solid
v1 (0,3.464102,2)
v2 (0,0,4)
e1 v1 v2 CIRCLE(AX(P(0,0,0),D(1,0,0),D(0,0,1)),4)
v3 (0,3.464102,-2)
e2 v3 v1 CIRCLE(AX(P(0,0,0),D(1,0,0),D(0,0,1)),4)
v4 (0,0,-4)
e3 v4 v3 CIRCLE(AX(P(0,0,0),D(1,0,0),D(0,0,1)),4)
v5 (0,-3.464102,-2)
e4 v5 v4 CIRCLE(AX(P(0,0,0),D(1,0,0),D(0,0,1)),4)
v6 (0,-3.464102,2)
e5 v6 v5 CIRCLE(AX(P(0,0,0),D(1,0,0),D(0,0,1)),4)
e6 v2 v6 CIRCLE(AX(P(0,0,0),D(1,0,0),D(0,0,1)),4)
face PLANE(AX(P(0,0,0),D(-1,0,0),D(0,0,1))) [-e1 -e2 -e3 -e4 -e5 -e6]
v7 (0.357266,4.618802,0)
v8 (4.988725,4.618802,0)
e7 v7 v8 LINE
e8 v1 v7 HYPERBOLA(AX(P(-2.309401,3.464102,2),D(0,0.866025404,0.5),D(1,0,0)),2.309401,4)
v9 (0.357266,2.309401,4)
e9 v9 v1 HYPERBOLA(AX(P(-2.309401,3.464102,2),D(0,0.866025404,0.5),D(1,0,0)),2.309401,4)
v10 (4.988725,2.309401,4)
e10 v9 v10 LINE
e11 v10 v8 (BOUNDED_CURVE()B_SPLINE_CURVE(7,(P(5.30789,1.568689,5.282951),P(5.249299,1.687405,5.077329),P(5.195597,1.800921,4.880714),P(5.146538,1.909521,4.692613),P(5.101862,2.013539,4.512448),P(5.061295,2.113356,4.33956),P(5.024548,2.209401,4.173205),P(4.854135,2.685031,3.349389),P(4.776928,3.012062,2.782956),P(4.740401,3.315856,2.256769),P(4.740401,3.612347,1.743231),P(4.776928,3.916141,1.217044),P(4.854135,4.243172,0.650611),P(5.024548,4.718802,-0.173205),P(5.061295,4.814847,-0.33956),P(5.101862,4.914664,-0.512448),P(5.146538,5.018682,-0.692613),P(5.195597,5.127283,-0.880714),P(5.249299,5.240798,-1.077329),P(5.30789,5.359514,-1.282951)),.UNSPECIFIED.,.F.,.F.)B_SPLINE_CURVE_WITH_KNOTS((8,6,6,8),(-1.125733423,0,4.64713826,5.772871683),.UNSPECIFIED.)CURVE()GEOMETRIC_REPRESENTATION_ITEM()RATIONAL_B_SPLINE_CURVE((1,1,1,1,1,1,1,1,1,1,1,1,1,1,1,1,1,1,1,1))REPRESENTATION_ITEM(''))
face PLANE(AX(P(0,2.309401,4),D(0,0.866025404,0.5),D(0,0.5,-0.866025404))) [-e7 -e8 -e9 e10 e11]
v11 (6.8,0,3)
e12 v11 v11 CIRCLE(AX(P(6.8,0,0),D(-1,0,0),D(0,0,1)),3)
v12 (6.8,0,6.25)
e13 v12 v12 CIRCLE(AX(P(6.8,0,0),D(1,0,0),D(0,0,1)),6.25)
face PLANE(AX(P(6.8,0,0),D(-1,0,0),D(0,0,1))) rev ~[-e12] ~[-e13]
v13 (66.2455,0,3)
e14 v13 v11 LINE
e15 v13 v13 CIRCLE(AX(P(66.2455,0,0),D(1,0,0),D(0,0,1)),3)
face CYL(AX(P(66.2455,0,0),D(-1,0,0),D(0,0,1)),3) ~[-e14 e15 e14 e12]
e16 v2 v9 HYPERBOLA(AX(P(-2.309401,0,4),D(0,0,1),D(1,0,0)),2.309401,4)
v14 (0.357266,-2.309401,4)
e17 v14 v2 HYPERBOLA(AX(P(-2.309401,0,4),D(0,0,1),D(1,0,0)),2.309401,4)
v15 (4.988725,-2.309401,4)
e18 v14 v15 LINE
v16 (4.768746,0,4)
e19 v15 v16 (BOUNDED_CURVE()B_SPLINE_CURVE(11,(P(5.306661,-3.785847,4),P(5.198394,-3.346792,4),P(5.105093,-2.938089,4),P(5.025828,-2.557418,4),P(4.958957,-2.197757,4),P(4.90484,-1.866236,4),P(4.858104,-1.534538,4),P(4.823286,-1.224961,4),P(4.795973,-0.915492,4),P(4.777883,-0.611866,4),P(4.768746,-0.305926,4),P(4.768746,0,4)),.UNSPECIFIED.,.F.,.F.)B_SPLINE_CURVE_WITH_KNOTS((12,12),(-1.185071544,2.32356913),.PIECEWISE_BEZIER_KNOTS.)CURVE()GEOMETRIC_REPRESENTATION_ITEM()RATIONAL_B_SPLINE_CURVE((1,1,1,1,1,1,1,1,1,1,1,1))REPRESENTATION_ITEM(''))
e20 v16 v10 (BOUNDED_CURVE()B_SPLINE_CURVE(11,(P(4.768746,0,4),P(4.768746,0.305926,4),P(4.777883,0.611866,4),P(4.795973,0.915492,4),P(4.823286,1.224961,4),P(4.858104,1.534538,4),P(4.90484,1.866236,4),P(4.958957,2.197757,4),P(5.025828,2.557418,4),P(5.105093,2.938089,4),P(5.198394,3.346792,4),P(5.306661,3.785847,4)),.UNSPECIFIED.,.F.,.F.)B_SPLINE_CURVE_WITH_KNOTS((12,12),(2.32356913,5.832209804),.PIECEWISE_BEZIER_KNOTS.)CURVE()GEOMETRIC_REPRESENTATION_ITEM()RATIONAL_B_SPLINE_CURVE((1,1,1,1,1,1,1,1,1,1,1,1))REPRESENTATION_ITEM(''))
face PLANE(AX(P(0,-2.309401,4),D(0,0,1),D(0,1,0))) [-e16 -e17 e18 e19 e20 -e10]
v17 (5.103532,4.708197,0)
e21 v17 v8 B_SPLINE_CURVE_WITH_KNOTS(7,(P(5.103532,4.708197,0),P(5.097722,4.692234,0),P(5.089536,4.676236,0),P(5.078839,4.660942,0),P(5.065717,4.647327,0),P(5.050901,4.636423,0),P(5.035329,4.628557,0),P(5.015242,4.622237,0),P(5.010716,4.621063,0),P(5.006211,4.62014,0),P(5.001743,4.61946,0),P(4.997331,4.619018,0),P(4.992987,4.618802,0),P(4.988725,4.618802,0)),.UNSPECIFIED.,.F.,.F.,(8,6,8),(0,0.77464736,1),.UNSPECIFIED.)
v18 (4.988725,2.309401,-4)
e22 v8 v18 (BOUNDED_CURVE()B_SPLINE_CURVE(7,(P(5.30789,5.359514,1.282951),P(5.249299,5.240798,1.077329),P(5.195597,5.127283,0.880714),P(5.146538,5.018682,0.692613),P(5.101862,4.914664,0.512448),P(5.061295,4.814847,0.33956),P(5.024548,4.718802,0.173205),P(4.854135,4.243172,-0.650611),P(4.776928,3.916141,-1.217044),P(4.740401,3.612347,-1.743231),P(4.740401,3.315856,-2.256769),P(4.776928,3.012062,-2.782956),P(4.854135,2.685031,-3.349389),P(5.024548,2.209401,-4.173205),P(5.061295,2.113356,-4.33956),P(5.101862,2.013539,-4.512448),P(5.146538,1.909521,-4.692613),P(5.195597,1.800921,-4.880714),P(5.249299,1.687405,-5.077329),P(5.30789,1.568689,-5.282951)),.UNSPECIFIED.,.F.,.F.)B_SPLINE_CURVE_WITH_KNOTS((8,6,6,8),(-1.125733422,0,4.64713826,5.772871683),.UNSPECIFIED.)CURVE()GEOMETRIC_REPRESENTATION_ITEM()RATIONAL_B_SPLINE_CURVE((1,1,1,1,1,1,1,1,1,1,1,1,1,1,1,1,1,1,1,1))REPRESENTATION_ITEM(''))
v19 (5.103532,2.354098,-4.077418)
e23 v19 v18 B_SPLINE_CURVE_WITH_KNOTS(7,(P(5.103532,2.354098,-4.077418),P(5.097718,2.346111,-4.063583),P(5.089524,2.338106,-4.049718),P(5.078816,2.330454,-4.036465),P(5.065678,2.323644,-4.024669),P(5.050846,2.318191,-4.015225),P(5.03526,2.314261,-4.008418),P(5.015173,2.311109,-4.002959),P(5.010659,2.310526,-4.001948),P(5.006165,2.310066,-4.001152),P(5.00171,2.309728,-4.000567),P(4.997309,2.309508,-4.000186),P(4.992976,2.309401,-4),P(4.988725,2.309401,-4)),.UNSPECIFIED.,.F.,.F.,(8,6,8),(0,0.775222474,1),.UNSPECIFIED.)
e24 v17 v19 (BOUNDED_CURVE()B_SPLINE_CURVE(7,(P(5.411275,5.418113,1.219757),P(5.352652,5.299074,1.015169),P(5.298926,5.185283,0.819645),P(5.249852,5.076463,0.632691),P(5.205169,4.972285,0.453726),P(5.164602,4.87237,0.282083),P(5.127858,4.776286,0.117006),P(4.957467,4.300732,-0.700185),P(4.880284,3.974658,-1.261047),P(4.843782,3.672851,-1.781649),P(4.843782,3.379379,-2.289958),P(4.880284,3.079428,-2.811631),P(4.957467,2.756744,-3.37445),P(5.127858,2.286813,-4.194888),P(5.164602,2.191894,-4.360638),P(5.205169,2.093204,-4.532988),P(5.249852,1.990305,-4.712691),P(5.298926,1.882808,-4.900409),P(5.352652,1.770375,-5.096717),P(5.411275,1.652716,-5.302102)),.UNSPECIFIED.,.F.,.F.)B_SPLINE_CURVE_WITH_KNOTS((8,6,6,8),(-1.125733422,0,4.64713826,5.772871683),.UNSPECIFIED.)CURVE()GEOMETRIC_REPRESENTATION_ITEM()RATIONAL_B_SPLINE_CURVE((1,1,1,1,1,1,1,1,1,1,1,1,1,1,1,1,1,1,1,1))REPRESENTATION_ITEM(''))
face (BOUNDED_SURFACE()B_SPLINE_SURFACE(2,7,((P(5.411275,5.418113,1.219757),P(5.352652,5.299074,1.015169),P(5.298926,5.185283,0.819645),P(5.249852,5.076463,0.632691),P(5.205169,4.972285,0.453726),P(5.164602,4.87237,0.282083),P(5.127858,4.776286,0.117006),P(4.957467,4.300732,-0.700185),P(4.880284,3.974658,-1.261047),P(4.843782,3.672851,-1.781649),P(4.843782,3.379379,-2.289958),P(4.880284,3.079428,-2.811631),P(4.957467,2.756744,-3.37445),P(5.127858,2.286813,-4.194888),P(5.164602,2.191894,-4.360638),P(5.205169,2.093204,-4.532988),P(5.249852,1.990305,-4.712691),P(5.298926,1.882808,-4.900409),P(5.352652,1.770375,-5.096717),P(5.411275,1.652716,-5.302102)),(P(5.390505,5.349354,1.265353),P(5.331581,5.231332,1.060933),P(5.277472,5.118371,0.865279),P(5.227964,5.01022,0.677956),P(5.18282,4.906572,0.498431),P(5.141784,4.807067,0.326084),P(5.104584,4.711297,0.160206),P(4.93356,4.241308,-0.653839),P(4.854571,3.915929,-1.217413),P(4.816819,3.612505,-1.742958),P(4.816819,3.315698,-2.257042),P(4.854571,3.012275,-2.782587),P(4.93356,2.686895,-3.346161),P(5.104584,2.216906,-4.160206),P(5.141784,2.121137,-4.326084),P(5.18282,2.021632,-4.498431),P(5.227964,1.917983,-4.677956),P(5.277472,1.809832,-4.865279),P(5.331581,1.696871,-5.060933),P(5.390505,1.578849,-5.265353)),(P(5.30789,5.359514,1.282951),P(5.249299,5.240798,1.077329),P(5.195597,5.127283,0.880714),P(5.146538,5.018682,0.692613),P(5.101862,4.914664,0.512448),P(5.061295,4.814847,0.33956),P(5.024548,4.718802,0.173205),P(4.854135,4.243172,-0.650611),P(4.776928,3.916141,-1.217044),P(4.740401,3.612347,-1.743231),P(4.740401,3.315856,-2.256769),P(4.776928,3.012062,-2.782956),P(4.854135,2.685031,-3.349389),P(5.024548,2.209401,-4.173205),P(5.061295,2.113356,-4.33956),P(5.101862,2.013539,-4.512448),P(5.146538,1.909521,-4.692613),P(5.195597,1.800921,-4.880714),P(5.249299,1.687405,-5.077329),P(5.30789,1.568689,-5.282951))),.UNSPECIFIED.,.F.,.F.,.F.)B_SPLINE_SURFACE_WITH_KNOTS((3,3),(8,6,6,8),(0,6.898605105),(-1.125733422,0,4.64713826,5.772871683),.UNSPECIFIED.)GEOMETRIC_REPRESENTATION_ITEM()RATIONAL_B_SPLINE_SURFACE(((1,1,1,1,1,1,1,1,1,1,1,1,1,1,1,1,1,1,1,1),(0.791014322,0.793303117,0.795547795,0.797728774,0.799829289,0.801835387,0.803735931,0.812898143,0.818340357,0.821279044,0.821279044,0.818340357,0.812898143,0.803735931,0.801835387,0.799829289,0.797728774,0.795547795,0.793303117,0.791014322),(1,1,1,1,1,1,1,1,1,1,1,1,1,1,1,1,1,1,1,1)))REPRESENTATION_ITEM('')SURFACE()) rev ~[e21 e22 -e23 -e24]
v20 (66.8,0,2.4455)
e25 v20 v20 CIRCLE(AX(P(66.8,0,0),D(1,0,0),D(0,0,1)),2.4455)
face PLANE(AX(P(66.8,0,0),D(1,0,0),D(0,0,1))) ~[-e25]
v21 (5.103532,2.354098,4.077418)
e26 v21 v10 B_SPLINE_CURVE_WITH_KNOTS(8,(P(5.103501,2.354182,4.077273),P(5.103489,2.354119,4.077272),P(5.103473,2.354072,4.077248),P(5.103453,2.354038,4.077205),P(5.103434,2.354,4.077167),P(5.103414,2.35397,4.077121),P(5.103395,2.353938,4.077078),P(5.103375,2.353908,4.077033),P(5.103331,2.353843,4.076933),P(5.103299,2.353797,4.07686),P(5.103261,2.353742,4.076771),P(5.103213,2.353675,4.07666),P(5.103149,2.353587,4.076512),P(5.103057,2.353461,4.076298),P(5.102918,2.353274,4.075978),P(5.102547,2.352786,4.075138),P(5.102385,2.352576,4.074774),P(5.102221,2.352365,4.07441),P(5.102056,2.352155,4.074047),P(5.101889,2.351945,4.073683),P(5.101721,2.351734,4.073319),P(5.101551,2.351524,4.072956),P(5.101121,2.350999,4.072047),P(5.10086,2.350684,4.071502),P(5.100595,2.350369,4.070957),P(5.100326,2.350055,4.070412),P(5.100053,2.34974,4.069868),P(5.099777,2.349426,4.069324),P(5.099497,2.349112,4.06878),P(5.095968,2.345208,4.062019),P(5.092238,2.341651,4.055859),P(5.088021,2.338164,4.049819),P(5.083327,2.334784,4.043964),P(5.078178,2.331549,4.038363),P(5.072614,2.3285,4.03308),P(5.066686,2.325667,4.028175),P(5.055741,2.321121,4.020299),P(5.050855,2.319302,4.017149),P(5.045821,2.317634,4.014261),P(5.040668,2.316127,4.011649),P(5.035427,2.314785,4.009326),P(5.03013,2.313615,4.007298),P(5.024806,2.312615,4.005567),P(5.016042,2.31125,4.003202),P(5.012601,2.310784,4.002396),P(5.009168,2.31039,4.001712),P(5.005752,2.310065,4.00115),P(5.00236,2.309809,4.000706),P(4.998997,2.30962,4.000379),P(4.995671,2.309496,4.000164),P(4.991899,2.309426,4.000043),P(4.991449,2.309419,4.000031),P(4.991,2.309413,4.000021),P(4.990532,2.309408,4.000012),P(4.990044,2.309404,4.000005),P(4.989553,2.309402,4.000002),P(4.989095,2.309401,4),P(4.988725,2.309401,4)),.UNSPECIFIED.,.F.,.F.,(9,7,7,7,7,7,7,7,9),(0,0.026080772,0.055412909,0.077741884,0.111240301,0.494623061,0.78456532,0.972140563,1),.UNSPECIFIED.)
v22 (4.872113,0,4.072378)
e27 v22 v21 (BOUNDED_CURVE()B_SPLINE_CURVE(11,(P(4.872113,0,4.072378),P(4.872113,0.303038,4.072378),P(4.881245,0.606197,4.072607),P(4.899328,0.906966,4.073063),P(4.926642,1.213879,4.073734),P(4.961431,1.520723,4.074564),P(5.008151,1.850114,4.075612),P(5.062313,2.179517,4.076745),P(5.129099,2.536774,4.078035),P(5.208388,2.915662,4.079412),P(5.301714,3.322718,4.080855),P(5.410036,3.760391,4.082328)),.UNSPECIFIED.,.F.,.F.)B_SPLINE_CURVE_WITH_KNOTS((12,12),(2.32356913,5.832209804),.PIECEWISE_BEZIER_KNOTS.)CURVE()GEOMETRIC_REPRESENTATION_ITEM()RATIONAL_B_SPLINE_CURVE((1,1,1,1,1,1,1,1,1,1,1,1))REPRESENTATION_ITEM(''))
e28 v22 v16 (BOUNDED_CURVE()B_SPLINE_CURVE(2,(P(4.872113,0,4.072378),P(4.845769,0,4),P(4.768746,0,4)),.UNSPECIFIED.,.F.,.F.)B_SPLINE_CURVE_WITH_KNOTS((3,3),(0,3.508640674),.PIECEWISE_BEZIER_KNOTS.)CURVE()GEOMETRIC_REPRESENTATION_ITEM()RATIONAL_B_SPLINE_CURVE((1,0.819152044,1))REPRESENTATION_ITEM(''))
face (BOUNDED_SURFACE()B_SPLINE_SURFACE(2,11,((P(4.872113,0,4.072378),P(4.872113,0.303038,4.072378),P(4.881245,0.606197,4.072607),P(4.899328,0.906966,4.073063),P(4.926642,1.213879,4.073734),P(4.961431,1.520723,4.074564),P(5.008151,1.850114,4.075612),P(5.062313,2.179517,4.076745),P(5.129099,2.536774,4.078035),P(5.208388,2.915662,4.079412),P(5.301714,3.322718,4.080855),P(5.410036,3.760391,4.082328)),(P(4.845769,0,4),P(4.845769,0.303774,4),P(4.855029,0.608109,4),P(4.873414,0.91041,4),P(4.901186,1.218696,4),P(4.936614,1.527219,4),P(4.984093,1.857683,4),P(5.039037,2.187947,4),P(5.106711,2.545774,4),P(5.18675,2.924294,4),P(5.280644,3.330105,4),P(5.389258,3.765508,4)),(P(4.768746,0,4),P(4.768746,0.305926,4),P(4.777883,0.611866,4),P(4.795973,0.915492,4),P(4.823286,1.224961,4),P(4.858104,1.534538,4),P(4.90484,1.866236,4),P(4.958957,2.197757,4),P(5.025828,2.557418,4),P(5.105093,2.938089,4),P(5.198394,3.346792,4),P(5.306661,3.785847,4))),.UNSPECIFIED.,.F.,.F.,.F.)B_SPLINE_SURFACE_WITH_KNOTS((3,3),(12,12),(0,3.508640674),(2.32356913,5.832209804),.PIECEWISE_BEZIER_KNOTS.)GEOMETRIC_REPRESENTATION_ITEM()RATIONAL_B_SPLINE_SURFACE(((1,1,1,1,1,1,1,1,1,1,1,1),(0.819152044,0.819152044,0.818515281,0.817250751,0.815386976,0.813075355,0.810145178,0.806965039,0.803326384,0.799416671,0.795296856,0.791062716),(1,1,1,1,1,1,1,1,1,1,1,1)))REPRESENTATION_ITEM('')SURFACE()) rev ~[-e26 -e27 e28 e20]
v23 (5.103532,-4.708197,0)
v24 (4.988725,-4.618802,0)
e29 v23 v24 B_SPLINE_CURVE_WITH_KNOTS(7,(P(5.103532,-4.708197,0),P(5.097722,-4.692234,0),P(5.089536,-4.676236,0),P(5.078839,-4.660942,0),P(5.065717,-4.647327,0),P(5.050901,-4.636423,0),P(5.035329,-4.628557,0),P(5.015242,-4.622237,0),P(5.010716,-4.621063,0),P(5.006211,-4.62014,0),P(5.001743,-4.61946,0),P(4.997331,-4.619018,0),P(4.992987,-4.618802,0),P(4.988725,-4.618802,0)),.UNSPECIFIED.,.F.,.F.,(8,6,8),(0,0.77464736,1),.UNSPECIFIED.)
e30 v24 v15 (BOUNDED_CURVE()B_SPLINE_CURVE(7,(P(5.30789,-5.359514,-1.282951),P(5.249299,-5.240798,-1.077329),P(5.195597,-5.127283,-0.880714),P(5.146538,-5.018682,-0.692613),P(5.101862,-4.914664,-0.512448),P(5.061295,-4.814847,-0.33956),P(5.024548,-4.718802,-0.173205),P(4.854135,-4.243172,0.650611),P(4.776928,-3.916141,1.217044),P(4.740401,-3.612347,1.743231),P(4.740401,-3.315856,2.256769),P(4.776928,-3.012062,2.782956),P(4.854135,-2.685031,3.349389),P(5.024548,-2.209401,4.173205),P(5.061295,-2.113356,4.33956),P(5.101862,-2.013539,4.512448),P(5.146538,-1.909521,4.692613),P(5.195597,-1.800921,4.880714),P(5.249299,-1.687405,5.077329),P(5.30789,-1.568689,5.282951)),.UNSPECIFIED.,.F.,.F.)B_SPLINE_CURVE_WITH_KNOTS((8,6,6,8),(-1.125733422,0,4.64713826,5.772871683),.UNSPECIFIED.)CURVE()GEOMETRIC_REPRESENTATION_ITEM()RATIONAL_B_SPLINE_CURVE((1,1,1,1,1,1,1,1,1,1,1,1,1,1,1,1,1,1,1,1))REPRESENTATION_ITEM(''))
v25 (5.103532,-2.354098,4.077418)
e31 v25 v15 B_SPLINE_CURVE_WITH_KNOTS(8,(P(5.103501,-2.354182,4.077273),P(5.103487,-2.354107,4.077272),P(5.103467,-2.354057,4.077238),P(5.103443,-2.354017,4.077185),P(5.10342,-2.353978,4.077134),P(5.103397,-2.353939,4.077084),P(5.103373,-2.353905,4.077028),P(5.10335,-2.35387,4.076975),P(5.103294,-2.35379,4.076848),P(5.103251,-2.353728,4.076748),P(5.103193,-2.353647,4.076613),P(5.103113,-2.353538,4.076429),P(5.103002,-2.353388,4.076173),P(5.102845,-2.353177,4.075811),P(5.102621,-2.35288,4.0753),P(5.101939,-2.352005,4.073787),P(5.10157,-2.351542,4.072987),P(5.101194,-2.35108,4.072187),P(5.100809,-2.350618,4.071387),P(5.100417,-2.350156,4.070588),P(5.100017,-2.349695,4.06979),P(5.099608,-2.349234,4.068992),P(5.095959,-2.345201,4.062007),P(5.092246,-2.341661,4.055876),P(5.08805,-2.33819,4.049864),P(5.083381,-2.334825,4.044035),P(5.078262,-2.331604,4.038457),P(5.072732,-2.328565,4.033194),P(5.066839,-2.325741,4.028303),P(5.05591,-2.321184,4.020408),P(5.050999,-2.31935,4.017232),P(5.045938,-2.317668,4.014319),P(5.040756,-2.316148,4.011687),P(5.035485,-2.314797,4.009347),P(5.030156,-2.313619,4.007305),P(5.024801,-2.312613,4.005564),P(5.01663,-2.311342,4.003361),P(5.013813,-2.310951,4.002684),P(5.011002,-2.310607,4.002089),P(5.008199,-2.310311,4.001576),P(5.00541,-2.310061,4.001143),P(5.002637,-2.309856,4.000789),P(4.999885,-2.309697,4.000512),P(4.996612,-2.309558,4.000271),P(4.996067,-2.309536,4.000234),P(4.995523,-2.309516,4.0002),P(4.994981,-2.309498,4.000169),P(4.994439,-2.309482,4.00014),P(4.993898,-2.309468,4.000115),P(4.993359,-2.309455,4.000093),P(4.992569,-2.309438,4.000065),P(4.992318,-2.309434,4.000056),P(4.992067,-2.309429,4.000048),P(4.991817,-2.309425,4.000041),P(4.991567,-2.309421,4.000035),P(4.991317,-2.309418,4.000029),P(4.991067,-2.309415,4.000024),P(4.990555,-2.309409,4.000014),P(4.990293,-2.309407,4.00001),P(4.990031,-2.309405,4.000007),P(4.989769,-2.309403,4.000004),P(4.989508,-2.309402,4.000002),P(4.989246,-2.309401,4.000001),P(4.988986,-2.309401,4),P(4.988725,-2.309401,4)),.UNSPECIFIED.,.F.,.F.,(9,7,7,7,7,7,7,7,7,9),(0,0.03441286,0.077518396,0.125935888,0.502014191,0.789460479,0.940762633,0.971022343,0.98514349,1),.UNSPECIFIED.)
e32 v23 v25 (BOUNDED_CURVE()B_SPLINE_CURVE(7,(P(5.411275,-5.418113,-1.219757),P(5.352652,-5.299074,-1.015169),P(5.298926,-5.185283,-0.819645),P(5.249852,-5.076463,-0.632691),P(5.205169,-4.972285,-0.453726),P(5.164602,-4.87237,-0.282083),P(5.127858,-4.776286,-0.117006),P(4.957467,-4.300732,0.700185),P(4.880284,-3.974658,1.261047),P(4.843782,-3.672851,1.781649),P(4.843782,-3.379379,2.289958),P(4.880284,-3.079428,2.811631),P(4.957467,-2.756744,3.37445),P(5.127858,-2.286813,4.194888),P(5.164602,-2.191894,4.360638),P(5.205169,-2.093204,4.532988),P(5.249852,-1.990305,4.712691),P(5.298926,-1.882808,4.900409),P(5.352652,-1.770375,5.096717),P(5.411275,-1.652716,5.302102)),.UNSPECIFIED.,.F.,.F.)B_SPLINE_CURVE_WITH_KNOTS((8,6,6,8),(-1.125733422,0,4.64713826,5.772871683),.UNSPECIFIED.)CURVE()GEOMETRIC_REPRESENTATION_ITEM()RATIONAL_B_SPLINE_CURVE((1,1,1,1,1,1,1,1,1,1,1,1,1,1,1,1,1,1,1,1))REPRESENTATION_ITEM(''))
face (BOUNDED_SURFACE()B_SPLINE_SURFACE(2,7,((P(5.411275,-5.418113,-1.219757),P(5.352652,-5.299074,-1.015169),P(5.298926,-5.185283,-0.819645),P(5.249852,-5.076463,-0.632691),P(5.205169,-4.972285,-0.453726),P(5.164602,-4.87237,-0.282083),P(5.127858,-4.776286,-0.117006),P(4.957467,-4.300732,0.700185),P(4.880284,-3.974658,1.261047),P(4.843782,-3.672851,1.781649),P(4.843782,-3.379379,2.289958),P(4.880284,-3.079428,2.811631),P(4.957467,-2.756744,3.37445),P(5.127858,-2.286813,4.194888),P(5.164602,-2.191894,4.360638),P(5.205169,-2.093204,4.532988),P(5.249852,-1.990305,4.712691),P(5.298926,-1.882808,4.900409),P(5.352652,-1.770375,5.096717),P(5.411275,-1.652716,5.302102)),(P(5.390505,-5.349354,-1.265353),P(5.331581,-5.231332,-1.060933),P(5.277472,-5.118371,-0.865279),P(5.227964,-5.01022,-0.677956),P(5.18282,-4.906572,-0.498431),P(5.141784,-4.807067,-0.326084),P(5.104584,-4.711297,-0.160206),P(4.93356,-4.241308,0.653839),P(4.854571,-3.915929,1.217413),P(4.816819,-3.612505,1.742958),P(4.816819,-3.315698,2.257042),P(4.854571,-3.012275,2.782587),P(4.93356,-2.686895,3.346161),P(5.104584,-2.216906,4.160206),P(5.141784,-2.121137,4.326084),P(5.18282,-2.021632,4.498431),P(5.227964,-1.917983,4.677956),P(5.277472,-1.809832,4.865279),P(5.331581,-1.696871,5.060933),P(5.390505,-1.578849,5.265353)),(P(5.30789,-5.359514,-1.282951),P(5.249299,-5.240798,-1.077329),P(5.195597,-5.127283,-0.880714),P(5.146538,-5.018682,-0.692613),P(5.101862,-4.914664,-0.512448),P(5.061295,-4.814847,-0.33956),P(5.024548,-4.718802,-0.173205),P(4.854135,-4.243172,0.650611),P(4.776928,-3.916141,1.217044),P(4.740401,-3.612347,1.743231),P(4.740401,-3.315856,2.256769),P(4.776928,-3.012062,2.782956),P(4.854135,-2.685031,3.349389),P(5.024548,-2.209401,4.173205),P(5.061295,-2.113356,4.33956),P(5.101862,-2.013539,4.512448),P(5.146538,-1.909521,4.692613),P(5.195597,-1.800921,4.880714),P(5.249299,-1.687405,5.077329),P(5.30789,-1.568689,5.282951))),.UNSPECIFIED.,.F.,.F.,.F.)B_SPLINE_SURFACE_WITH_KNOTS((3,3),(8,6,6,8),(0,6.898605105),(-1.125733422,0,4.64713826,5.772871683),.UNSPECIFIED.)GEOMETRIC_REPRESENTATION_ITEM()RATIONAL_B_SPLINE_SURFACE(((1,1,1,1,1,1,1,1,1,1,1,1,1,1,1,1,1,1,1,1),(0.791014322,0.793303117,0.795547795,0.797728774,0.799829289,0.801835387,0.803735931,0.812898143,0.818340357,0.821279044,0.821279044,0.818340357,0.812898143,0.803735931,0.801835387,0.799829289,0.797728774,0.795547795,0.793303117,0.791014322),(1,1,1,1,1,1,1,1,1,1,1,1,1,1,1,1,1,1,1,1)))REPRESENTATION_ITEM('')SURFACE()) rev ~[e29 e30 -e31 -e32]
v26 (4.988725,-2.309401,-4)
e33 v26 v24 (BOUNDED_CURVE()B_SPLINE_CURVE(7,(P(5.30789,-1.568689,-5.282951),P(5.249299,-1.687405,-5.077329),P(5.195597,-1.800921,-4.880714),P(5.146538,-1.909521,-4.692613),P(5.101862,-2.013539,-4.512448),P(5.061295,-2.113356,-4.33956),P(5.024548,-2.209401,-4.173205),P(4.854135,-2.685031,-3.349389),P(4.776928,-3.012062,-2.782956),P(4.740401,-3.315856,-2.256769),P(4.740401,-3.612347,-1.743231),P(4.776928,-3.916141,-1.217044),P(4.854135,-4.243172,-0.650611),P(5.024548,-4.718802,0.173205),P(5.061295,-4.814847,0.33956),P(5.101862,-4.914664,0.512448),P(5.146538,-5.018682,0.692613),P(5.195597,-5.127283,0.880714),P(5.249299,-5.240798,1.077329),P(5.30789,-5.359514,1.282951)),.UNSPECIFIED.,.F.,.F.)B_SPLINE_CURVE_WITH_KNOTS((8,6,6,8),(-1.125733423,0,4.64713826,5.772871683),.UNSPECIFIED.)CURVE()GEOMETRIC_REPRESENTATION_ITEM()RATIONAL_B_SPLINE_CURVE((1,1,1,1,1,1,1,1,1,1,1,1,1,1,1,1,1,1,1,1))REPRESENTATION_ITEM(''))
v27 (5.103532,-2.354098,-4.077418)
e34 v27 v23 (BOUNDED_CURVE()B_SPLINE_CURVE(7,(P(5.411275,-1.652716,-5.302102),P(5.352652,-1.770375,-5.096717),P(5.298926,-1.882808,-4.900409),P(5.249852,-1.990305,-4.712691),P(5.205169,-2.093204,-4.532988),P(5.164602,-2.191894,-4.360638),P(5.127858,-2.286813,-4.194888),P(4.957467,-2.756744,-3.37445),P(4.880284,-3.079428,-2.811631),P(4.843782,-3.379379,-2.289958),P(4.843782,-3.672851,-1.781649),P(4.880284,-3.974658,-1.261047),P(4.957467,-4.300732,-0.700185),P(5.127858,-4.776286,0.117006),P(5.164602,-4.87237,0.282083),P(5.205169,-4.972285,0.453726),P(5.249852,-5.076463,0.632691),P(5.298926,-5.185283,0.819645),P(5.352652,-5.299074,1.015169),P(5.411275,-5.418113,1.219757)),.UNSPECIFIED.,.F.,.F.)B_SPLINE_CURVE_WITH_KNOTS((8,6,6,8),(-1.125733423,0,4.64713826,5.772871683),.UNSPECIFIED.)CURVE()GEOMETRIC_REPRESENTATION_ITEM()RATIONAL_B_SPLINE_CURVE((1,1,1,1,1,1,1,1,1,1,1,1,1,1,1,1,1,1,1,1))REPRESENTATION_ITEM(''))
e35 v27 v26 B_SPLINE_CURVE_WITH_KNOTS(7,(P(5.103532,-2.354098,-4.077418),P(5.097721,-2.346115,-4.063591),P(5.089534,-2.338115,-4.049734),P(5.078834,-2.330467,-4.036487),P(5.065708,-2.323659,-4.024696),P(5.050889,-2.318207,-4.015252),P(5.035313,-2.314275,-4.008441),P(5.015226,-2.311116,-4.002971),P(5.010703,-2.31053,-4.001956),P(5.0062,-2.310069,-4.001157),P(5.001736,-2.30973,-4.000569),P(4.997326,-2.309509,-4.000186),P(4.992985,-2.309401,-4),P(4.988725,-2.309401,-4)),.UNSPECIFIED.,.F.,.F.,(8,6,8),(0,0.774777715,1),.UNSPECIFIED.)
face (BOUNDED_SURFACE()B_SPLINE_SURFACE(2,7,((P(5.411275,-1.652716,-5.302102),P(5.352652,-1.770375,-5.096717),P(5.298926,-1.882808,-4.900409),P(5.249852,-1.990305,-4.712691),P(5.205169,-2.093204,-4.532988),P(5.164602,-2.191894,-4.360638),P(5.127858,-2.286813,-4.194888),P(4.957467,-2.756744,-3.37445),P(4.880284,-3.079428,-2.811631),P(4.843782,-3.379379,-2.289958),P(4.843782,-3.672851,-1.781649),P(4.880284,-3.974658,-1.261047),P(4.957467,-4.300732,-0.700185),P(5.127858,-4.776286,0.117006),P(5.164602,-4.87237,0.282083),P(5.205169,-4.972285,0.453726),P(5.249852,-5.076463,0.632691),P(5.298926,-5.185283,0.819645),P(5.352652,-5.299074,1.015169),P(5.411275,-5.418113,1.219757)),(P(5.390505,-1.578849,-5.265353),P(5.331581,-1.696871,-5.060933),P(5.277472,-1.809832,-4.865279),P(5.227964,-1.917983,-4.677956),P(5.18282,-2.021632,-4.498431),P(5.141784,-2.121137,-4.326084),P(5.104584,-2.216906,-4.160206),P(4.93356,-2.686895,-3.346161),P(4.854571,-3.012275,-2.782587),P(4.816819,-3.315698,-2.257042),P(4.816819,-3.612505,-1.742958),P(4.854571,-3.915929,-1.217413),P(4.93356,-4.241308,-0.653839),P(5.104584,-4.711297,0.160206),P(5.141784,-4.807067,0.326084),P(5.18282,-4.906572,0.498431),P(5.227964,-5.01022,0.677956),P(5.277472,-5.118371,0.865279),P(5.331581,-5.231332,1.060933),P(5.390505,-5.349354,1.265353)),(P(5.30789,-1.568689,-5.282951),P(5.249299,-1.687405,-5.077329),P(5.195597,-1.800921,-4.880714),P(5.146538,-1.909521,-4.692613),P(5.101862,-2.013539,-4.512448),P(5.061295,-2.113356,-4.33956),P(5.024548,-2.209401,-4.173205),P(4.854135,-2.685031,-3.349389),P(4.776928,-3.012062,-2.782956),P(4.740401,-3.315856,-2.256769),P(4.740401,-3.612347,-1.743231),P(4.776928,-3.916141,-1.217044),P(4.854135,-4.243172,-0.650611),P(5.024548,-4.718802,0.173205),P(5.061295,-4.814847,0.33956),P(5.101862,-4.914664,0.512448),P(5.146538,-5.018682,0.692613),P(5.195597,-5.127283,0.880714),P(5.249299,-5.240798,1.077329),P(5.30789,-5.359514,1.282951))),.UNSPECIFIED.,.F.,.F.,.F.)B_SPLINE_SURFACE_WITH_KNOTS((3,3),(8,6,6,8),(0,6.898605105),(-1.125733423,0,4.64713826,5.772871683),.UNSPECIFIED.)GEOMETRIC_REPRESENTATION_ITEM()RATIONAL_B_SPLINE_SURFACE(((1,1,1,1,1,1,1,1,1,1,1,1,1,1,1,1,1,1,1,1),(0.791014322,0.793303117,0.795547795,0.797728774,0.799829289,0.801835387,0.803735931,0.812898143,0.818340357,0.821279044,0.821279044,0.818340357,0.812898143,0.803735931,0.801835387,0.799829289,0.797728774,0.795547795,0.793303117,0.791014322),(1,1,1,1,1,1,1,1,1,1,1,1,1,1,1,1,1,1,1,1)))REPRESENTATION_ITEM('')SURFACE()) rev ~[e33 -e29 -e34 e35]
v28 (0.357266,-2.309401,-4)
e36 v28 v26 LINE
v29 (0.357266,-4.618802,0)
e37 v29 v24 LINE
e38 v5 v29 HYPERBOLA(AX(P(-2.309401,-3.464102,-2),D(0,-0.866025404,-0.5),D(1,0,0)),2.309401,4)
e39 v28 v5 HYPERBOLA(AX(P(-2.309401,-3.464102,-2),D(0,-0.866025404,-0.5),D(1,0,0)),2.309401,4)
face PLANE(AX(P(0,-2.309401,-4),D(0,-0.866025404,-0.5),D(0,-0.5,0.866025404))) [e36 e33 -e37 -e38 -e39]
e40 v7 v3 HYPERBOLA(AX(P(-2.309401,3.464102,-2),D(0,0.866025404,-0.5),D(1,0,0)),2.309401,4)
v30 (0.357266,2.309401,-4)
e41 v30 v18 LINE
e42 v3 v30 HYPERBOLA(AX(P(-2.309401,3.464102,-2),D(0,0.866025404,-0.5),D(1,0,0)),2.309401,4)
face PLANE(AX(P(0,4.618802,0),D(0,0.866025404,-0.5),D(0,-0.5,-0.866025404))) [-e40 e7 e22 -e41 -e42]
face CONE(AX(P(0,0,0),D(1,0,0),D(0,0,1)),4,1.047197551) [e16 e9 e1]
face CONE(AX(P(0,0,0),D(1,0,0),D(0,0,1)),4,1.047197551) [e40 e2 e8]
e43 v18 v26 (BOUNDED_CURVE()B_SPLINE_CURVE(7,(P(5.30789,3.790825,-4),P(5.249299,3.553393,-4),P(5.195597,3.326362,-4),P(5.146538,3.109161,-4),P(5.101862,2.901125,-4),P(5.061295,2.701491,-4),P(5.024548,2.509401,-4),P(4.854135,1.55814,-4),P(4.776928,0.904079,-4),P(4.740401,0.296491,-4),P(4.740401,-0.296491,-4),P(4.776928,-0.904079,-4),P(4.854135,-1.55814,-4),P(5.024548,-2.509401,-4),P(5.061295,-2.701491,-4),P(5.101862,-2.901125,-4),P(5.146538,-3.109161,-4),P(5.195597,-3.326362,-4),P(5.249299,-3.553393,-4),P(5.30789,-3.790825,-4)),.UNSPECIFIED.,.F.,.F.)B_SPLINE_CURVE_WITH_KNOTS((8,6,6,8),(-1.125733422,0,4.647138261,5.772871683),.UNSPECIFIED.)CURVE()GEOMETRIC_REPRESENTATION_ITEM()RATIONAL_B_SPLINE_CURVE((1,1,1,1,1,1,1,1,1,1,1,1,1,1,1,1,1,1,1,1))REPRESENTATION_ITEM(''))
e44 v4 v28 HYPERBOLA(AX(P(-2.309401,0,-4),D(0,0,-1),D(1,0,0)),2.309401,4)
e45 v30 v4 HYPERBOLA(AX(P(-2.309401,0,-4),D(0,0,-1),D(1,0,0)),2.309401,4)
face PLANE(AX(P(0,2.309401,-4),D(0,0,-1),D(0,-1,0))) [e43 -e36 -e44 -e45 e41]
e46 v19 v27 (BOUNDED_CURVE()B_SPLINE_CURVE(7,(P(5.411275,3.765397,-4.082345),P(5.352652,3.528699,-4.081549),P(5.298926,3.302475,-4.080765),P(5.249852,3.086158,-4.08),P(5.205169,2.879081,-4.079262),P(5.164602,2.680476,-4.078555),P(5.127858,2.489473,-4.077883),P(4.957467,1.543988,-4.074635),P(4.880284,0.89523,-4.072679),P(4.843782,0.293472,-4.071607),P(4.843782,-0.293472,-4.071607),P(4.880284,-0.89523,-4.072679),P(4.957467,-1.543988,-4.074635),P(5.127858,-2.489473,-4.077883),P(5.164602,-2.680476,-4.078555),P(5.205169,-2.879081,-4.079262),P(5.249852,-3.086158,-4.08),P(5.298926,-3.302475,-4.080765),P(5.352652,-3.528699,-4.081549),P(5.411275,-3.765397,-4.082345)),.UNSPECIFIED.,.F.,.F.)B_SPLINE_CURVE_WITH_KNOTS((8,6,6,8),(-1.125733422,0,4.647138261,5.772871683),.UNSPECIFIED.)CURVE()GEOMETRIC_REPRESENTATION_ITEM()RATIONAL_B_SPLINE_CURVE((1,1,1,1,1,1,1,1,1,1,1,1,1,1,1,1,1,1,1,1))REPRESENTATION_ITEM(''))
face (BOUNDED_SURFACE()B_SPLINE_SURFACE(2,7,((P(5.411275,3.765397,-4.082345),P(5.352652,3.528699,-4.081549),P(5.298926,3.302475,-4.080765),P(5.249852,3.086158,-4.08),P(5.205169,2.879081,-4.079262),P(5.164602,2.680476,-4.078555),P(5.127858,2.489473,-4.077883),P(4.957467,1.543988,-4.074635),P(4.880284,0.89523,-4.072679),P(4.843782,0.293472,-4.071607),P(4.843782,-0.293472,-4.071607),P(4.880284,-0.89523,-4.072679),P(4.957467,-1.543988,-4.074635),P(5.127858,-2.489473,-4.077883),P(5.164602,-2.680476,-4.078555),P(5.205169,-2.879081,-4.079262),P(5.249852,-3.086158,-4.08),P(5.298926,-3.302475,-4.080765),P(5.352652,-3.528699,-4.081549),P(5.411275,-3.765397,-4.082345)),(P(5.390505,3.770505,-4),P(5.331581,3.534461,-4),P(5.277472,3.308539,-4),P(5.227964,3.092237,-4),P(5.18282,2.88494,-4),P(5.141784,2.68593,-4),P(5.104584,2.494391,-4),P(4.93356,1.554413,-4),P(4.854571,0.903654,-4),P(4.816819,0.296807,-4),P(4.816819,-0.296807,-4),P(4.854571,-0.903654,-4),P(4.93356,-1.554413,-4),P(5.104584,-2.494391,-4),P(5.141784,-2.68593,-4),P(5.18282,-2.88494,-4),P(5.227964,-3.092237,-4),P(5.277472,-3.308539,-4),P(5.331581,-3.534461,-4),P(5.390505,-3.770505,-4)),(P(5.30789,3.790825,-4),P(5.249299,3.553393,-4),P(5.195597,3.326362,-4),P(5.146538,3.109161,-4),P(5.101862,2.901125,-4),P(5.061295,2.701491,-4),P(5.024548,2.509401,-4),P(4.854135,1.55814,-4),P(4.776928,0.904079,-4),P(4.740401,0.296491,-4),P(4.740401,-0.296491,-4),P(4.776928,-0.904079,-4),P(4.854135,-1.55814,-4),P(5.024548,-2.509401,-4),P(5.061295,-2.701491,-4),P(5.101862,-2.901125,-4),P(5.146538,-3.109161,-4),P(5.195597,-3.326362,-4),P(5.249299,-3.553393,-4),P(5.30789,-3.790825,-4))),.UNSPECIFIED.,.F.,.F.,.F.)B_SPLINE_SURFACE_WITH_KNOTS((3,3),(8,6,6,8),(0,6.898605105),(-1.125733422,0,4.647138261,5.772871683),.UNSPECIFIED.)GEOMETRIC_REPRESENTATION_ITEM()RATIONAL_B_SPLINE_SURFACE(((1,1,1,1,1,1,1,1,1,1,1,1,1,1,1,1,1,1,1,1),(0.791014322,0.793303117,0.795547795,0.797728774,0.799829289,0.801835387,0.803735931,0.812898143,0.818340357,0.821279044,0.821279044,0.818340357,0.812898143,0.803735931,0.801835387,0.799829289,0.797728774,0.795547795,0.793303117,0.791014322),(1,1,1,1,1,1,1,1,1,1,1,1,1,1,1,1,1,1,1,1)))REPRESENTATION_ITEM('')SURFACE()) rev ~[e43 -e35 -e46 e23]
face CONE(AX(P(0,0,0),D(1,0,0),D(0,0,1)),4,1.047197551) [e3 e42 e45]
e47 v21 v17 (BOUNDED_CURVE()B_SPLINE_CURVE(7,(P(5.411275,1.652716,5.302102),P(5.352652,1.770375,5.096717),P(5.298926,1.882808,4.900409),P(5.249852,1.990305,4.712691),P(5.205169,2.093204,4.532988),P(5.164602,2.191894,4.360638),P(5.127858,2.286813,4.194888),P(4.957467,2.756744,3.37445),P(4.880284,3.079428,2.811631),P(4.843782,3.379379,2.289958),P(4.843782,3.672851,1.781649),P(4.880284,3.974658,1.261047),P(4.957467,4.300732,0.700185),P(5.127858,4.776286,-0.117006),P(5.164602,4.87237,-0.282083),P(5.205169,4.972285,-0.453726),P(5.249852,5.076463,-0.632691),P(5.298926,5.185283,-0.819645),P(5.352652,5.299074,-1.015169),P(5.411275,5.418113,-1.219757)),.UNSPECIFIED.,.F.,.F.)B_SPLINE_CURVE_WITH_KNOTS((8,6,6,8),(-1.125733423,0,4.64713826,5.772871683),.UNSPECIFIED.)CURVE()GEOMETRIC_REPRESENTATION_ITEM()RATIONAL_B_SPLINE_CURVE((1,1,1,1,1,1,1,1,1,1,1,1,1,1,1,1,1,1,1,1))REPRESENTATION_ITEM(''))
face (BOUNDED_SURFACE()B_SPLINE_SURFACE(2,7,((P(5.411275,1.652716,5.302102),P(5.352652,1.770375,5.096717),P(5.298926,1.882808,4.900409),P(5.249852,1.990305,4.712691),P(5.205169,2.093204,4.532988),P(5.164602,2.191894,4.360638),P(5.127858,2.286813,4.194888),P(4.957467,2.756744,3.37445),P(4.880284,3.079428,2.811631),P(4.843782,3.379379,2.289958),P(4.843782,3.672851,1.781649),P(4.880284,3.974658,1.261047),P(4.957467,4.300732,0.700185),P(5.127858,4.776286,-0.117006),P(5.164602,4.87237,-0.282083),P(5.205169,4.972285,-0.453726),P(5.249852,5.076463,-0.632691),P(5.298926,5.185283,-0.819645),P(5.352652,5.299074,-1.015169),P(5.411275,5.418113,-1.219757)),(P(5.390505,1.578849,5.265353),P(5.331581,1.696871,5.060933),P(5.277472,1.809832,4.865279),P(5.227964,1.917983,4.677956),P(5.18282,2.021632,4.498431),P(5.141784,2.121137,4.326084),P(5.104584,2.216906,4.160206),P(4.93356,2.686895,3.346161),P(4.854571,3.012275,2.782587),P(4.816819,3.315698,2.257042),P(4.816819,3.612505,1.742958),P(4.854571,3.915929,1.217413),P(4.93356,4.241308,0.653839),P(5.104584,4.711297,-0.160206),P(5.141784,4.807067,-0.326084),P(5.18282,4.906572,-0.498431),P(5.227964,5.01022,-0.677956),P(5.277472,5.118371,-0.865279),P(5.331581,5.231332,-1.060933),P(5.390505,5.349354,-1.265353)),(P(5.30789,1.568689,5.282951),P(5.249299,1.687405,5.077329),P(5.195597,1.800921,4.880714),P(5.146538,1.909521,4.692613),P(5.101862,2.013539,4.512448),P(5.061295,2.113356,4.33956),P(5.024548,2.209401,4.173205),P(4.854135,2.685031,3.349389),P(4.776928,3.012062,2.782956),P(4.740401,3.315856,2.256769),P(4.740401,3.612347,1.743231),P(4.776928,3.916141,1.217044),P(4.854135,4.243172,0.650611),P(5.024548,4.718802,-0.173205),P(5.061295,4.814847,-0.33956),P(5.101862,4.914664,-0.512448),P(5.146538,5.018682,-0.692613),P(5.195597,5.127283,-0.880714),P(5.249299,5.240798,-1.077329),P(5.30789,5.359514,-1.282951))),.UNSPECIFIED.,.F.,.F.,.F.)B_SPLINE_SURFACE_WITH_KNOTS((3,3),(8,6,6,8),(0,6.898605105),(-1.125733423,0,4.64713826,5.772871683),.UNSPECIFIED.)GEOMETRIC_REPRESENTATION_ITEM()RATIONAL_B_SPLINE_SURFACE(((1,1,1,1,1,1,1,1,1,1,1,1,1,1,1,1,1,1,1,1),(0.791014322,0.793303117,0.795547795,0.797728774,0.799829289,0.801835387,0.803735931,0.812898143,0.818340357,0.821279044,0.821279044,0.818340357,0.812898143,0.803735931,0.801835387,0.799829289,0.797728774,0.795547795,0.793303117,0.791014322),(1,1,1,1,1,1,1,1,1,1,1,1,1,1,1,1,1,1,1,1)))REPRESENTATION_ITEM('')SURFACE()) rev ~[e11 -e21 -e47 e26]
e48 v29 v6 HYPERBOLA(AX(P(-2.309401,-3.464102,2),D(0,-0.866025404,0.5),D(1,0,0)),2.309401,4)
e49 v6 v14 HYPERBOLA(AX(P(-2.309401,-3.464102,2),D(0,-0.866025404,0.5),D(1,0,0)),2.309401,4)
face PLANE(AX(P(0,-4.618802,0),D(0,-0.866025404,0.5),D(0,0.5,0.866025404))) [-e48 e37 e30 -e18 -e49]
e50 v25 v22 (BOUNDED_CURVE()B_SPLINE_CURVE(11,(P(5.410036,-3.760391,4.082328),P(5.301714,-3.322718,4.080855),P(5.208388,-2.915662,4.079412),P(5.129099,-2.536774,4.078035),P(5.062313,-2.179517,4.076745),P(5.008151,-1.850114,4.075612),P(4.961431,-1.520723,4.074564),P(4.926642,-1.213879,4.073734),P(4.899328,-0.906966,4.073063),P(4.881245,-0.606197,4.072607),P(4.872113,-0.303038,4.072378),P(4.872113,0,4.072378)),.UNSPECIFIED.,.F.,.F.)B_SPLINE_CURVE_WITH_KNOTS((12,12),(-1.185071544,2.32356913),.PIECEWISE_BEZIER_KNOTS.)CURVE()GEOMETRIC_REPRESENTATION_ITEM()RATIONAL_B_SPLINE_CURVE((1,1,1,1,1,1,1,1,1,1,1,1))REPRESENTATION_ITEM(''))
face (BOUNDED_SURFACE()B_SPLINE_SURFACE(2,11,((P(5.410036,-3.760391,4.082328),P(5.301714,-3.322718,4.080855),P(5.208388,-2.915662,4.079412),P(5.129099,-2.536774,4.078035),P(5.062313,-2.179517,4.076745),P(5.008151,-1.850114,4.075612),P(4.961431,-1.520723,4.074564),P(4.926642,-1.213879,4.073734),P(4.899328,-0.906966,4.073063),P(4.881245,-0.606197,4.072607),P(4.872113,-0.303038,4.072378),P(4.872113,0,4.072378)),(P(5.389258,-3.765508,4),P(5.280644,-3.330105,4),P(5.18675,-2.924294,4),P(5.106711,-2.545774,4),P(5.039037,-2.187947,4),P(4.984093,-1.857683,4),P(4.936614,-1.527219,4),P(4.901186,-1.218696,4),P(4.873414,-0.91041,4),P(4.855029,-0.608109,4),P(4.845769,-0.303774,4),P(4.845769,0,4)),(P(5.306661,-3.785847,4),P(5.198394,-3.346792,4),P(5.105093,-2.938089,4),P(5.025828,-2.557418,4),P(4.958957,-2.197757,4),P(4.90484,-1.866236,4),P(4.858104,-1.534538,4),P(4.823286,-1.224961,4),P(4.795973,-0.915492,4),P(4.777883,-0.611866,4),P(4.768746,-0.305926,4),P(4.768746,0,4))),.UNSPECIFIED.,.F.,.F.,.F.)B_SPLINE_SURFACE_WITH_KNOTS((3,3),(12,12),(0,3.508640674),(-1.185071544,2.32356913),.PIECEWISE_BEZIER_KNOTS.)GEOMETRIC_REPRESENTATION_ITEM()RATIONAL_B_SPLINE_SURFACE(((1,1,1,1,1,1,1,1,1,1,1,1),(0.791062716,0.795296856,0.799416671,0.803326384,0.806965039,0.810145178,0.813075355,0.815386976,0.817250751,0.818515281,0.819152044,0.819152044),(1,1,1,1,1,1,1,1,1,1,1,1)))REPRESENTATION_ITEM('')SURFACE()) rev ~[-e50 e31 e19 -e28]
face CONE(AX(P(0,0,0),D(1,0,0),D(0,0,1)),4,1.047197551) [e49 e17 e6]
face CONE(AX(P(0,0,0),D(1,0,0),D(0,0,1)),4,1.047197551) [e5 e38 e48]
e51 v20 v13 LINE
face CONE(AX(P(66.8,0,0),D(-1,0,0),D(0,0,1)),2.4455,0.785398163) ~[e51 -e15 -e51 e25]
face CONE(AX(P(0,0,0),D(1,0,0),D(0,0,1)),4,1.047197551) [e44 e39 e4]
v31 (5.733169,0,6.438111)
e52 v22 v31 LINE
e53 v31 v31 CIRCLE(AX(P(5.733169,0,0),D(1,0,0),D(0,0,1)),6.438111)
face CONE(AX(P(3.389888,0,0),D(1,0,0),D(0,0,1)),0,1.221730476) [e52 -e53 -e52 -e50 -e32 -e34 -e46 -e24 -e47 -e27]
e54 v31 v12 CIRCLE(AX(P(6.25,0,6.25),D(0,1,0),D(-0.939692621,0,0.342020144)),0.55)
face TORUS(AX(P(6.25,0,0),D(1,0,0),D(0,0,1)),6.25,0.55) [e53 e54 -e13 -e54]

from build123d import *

# Parameters (mm, degrees)
BASEHEAD_DEPTH    = 6.8
FLANGEHEXFILLET_R = 0.11


with BuildPart() as part:
    # Sketch1 → BaseHead (new body)
    with BuildSketch(Plane(origin=(0, 0, 0), x_dir=(0, 0, -1), z_dir=(1, 0, 0))):
        Polygon((4, 2.309401077), (4, -2.309401077), (0, -4.618802154), (-4, -2.309401077), (-4, 2.309401077), (0, 4.618802154), align=None)
    extrude(amount=BASEHEAD_DEPTH)

    # BodySke → BaseBody (revolve)
    with BuildSketch(Plane.XY, mode=Mode.PRIVATE) as basebody_sk:
        Polygon((0, 0), (66.8, 0), (66.8, 2.4455), (66.2455, 3), (0, 3), align=None)
    revolve(basebody_sk.sketch.rotate(Axis((0, 0, 0), (1, 0, 0)), 90), axis=Axis((0, 0, 0), (1, 0, 0)))  # turned: the seam where the file's is

    # Sketch3 → HeadChamfer (revolve, cut)
    with BuildSketch(Plane.XY, mode=Mode.PRIVATE) as headchamfer_sk:
        Polygon((0, 4), (3.244016936, 9.618802154), (3.244016936, 14.618802154), (-10, 14.618802154), (-10, 4), align=None)
    revolve(headchamfer_sk.sketch.rotate(Axis((0, 0, 0), (1, 0, 0)), 90), axis=Axis((0, 0, 0), (1, 0, 0)), mode=Mode.SUBTRACT)  # turned: the seam where the file's is

    # Sketch4 → Flange (revolve)
    with BuildSketch(Plane.XY, mode=Mode.PRIVATE) as flange_sk:
        with BuildLine():
            Line((3.389888261, 0), (5.733169059, 6.438111079))
            ThreePointArc((5.733169059, 6.438111079), (6.345506498, 6.791644264), (6.8, 6.25))
            Line((6.8, 6.25), (6.8, 0))
            Line((6.8, 0), (3.389888261, 0))
        make_face()
    revolve(flange_sk.sketch.rotate(Axis((0, 0, 0), (1, 0, 0)), 90), axis=Axis((0, 0, 0), (1, 0, 0)))  # turned: the seam where the file's is

    # FlangeHexFillet
    flangehexfillet_edges = [part.edges().sort_by_distance(p)[0] for p in [
        (4.845769198, 0, -4),
        (4.845769198, -3.464101615, -2),
        (4.905726696, 1.159737717, 4),
        (4.845769198, 3.464101615, 2),
        (4.845769198, 3.464101615, -2),
        (4.845769198, -3.464101615, 2),
        (4.905726696, -1.159737717, 4),
    ]]
    fillet(flangehexfillet_edges, radius=FLANGEHEXFILLET_R)


solid = part.part
